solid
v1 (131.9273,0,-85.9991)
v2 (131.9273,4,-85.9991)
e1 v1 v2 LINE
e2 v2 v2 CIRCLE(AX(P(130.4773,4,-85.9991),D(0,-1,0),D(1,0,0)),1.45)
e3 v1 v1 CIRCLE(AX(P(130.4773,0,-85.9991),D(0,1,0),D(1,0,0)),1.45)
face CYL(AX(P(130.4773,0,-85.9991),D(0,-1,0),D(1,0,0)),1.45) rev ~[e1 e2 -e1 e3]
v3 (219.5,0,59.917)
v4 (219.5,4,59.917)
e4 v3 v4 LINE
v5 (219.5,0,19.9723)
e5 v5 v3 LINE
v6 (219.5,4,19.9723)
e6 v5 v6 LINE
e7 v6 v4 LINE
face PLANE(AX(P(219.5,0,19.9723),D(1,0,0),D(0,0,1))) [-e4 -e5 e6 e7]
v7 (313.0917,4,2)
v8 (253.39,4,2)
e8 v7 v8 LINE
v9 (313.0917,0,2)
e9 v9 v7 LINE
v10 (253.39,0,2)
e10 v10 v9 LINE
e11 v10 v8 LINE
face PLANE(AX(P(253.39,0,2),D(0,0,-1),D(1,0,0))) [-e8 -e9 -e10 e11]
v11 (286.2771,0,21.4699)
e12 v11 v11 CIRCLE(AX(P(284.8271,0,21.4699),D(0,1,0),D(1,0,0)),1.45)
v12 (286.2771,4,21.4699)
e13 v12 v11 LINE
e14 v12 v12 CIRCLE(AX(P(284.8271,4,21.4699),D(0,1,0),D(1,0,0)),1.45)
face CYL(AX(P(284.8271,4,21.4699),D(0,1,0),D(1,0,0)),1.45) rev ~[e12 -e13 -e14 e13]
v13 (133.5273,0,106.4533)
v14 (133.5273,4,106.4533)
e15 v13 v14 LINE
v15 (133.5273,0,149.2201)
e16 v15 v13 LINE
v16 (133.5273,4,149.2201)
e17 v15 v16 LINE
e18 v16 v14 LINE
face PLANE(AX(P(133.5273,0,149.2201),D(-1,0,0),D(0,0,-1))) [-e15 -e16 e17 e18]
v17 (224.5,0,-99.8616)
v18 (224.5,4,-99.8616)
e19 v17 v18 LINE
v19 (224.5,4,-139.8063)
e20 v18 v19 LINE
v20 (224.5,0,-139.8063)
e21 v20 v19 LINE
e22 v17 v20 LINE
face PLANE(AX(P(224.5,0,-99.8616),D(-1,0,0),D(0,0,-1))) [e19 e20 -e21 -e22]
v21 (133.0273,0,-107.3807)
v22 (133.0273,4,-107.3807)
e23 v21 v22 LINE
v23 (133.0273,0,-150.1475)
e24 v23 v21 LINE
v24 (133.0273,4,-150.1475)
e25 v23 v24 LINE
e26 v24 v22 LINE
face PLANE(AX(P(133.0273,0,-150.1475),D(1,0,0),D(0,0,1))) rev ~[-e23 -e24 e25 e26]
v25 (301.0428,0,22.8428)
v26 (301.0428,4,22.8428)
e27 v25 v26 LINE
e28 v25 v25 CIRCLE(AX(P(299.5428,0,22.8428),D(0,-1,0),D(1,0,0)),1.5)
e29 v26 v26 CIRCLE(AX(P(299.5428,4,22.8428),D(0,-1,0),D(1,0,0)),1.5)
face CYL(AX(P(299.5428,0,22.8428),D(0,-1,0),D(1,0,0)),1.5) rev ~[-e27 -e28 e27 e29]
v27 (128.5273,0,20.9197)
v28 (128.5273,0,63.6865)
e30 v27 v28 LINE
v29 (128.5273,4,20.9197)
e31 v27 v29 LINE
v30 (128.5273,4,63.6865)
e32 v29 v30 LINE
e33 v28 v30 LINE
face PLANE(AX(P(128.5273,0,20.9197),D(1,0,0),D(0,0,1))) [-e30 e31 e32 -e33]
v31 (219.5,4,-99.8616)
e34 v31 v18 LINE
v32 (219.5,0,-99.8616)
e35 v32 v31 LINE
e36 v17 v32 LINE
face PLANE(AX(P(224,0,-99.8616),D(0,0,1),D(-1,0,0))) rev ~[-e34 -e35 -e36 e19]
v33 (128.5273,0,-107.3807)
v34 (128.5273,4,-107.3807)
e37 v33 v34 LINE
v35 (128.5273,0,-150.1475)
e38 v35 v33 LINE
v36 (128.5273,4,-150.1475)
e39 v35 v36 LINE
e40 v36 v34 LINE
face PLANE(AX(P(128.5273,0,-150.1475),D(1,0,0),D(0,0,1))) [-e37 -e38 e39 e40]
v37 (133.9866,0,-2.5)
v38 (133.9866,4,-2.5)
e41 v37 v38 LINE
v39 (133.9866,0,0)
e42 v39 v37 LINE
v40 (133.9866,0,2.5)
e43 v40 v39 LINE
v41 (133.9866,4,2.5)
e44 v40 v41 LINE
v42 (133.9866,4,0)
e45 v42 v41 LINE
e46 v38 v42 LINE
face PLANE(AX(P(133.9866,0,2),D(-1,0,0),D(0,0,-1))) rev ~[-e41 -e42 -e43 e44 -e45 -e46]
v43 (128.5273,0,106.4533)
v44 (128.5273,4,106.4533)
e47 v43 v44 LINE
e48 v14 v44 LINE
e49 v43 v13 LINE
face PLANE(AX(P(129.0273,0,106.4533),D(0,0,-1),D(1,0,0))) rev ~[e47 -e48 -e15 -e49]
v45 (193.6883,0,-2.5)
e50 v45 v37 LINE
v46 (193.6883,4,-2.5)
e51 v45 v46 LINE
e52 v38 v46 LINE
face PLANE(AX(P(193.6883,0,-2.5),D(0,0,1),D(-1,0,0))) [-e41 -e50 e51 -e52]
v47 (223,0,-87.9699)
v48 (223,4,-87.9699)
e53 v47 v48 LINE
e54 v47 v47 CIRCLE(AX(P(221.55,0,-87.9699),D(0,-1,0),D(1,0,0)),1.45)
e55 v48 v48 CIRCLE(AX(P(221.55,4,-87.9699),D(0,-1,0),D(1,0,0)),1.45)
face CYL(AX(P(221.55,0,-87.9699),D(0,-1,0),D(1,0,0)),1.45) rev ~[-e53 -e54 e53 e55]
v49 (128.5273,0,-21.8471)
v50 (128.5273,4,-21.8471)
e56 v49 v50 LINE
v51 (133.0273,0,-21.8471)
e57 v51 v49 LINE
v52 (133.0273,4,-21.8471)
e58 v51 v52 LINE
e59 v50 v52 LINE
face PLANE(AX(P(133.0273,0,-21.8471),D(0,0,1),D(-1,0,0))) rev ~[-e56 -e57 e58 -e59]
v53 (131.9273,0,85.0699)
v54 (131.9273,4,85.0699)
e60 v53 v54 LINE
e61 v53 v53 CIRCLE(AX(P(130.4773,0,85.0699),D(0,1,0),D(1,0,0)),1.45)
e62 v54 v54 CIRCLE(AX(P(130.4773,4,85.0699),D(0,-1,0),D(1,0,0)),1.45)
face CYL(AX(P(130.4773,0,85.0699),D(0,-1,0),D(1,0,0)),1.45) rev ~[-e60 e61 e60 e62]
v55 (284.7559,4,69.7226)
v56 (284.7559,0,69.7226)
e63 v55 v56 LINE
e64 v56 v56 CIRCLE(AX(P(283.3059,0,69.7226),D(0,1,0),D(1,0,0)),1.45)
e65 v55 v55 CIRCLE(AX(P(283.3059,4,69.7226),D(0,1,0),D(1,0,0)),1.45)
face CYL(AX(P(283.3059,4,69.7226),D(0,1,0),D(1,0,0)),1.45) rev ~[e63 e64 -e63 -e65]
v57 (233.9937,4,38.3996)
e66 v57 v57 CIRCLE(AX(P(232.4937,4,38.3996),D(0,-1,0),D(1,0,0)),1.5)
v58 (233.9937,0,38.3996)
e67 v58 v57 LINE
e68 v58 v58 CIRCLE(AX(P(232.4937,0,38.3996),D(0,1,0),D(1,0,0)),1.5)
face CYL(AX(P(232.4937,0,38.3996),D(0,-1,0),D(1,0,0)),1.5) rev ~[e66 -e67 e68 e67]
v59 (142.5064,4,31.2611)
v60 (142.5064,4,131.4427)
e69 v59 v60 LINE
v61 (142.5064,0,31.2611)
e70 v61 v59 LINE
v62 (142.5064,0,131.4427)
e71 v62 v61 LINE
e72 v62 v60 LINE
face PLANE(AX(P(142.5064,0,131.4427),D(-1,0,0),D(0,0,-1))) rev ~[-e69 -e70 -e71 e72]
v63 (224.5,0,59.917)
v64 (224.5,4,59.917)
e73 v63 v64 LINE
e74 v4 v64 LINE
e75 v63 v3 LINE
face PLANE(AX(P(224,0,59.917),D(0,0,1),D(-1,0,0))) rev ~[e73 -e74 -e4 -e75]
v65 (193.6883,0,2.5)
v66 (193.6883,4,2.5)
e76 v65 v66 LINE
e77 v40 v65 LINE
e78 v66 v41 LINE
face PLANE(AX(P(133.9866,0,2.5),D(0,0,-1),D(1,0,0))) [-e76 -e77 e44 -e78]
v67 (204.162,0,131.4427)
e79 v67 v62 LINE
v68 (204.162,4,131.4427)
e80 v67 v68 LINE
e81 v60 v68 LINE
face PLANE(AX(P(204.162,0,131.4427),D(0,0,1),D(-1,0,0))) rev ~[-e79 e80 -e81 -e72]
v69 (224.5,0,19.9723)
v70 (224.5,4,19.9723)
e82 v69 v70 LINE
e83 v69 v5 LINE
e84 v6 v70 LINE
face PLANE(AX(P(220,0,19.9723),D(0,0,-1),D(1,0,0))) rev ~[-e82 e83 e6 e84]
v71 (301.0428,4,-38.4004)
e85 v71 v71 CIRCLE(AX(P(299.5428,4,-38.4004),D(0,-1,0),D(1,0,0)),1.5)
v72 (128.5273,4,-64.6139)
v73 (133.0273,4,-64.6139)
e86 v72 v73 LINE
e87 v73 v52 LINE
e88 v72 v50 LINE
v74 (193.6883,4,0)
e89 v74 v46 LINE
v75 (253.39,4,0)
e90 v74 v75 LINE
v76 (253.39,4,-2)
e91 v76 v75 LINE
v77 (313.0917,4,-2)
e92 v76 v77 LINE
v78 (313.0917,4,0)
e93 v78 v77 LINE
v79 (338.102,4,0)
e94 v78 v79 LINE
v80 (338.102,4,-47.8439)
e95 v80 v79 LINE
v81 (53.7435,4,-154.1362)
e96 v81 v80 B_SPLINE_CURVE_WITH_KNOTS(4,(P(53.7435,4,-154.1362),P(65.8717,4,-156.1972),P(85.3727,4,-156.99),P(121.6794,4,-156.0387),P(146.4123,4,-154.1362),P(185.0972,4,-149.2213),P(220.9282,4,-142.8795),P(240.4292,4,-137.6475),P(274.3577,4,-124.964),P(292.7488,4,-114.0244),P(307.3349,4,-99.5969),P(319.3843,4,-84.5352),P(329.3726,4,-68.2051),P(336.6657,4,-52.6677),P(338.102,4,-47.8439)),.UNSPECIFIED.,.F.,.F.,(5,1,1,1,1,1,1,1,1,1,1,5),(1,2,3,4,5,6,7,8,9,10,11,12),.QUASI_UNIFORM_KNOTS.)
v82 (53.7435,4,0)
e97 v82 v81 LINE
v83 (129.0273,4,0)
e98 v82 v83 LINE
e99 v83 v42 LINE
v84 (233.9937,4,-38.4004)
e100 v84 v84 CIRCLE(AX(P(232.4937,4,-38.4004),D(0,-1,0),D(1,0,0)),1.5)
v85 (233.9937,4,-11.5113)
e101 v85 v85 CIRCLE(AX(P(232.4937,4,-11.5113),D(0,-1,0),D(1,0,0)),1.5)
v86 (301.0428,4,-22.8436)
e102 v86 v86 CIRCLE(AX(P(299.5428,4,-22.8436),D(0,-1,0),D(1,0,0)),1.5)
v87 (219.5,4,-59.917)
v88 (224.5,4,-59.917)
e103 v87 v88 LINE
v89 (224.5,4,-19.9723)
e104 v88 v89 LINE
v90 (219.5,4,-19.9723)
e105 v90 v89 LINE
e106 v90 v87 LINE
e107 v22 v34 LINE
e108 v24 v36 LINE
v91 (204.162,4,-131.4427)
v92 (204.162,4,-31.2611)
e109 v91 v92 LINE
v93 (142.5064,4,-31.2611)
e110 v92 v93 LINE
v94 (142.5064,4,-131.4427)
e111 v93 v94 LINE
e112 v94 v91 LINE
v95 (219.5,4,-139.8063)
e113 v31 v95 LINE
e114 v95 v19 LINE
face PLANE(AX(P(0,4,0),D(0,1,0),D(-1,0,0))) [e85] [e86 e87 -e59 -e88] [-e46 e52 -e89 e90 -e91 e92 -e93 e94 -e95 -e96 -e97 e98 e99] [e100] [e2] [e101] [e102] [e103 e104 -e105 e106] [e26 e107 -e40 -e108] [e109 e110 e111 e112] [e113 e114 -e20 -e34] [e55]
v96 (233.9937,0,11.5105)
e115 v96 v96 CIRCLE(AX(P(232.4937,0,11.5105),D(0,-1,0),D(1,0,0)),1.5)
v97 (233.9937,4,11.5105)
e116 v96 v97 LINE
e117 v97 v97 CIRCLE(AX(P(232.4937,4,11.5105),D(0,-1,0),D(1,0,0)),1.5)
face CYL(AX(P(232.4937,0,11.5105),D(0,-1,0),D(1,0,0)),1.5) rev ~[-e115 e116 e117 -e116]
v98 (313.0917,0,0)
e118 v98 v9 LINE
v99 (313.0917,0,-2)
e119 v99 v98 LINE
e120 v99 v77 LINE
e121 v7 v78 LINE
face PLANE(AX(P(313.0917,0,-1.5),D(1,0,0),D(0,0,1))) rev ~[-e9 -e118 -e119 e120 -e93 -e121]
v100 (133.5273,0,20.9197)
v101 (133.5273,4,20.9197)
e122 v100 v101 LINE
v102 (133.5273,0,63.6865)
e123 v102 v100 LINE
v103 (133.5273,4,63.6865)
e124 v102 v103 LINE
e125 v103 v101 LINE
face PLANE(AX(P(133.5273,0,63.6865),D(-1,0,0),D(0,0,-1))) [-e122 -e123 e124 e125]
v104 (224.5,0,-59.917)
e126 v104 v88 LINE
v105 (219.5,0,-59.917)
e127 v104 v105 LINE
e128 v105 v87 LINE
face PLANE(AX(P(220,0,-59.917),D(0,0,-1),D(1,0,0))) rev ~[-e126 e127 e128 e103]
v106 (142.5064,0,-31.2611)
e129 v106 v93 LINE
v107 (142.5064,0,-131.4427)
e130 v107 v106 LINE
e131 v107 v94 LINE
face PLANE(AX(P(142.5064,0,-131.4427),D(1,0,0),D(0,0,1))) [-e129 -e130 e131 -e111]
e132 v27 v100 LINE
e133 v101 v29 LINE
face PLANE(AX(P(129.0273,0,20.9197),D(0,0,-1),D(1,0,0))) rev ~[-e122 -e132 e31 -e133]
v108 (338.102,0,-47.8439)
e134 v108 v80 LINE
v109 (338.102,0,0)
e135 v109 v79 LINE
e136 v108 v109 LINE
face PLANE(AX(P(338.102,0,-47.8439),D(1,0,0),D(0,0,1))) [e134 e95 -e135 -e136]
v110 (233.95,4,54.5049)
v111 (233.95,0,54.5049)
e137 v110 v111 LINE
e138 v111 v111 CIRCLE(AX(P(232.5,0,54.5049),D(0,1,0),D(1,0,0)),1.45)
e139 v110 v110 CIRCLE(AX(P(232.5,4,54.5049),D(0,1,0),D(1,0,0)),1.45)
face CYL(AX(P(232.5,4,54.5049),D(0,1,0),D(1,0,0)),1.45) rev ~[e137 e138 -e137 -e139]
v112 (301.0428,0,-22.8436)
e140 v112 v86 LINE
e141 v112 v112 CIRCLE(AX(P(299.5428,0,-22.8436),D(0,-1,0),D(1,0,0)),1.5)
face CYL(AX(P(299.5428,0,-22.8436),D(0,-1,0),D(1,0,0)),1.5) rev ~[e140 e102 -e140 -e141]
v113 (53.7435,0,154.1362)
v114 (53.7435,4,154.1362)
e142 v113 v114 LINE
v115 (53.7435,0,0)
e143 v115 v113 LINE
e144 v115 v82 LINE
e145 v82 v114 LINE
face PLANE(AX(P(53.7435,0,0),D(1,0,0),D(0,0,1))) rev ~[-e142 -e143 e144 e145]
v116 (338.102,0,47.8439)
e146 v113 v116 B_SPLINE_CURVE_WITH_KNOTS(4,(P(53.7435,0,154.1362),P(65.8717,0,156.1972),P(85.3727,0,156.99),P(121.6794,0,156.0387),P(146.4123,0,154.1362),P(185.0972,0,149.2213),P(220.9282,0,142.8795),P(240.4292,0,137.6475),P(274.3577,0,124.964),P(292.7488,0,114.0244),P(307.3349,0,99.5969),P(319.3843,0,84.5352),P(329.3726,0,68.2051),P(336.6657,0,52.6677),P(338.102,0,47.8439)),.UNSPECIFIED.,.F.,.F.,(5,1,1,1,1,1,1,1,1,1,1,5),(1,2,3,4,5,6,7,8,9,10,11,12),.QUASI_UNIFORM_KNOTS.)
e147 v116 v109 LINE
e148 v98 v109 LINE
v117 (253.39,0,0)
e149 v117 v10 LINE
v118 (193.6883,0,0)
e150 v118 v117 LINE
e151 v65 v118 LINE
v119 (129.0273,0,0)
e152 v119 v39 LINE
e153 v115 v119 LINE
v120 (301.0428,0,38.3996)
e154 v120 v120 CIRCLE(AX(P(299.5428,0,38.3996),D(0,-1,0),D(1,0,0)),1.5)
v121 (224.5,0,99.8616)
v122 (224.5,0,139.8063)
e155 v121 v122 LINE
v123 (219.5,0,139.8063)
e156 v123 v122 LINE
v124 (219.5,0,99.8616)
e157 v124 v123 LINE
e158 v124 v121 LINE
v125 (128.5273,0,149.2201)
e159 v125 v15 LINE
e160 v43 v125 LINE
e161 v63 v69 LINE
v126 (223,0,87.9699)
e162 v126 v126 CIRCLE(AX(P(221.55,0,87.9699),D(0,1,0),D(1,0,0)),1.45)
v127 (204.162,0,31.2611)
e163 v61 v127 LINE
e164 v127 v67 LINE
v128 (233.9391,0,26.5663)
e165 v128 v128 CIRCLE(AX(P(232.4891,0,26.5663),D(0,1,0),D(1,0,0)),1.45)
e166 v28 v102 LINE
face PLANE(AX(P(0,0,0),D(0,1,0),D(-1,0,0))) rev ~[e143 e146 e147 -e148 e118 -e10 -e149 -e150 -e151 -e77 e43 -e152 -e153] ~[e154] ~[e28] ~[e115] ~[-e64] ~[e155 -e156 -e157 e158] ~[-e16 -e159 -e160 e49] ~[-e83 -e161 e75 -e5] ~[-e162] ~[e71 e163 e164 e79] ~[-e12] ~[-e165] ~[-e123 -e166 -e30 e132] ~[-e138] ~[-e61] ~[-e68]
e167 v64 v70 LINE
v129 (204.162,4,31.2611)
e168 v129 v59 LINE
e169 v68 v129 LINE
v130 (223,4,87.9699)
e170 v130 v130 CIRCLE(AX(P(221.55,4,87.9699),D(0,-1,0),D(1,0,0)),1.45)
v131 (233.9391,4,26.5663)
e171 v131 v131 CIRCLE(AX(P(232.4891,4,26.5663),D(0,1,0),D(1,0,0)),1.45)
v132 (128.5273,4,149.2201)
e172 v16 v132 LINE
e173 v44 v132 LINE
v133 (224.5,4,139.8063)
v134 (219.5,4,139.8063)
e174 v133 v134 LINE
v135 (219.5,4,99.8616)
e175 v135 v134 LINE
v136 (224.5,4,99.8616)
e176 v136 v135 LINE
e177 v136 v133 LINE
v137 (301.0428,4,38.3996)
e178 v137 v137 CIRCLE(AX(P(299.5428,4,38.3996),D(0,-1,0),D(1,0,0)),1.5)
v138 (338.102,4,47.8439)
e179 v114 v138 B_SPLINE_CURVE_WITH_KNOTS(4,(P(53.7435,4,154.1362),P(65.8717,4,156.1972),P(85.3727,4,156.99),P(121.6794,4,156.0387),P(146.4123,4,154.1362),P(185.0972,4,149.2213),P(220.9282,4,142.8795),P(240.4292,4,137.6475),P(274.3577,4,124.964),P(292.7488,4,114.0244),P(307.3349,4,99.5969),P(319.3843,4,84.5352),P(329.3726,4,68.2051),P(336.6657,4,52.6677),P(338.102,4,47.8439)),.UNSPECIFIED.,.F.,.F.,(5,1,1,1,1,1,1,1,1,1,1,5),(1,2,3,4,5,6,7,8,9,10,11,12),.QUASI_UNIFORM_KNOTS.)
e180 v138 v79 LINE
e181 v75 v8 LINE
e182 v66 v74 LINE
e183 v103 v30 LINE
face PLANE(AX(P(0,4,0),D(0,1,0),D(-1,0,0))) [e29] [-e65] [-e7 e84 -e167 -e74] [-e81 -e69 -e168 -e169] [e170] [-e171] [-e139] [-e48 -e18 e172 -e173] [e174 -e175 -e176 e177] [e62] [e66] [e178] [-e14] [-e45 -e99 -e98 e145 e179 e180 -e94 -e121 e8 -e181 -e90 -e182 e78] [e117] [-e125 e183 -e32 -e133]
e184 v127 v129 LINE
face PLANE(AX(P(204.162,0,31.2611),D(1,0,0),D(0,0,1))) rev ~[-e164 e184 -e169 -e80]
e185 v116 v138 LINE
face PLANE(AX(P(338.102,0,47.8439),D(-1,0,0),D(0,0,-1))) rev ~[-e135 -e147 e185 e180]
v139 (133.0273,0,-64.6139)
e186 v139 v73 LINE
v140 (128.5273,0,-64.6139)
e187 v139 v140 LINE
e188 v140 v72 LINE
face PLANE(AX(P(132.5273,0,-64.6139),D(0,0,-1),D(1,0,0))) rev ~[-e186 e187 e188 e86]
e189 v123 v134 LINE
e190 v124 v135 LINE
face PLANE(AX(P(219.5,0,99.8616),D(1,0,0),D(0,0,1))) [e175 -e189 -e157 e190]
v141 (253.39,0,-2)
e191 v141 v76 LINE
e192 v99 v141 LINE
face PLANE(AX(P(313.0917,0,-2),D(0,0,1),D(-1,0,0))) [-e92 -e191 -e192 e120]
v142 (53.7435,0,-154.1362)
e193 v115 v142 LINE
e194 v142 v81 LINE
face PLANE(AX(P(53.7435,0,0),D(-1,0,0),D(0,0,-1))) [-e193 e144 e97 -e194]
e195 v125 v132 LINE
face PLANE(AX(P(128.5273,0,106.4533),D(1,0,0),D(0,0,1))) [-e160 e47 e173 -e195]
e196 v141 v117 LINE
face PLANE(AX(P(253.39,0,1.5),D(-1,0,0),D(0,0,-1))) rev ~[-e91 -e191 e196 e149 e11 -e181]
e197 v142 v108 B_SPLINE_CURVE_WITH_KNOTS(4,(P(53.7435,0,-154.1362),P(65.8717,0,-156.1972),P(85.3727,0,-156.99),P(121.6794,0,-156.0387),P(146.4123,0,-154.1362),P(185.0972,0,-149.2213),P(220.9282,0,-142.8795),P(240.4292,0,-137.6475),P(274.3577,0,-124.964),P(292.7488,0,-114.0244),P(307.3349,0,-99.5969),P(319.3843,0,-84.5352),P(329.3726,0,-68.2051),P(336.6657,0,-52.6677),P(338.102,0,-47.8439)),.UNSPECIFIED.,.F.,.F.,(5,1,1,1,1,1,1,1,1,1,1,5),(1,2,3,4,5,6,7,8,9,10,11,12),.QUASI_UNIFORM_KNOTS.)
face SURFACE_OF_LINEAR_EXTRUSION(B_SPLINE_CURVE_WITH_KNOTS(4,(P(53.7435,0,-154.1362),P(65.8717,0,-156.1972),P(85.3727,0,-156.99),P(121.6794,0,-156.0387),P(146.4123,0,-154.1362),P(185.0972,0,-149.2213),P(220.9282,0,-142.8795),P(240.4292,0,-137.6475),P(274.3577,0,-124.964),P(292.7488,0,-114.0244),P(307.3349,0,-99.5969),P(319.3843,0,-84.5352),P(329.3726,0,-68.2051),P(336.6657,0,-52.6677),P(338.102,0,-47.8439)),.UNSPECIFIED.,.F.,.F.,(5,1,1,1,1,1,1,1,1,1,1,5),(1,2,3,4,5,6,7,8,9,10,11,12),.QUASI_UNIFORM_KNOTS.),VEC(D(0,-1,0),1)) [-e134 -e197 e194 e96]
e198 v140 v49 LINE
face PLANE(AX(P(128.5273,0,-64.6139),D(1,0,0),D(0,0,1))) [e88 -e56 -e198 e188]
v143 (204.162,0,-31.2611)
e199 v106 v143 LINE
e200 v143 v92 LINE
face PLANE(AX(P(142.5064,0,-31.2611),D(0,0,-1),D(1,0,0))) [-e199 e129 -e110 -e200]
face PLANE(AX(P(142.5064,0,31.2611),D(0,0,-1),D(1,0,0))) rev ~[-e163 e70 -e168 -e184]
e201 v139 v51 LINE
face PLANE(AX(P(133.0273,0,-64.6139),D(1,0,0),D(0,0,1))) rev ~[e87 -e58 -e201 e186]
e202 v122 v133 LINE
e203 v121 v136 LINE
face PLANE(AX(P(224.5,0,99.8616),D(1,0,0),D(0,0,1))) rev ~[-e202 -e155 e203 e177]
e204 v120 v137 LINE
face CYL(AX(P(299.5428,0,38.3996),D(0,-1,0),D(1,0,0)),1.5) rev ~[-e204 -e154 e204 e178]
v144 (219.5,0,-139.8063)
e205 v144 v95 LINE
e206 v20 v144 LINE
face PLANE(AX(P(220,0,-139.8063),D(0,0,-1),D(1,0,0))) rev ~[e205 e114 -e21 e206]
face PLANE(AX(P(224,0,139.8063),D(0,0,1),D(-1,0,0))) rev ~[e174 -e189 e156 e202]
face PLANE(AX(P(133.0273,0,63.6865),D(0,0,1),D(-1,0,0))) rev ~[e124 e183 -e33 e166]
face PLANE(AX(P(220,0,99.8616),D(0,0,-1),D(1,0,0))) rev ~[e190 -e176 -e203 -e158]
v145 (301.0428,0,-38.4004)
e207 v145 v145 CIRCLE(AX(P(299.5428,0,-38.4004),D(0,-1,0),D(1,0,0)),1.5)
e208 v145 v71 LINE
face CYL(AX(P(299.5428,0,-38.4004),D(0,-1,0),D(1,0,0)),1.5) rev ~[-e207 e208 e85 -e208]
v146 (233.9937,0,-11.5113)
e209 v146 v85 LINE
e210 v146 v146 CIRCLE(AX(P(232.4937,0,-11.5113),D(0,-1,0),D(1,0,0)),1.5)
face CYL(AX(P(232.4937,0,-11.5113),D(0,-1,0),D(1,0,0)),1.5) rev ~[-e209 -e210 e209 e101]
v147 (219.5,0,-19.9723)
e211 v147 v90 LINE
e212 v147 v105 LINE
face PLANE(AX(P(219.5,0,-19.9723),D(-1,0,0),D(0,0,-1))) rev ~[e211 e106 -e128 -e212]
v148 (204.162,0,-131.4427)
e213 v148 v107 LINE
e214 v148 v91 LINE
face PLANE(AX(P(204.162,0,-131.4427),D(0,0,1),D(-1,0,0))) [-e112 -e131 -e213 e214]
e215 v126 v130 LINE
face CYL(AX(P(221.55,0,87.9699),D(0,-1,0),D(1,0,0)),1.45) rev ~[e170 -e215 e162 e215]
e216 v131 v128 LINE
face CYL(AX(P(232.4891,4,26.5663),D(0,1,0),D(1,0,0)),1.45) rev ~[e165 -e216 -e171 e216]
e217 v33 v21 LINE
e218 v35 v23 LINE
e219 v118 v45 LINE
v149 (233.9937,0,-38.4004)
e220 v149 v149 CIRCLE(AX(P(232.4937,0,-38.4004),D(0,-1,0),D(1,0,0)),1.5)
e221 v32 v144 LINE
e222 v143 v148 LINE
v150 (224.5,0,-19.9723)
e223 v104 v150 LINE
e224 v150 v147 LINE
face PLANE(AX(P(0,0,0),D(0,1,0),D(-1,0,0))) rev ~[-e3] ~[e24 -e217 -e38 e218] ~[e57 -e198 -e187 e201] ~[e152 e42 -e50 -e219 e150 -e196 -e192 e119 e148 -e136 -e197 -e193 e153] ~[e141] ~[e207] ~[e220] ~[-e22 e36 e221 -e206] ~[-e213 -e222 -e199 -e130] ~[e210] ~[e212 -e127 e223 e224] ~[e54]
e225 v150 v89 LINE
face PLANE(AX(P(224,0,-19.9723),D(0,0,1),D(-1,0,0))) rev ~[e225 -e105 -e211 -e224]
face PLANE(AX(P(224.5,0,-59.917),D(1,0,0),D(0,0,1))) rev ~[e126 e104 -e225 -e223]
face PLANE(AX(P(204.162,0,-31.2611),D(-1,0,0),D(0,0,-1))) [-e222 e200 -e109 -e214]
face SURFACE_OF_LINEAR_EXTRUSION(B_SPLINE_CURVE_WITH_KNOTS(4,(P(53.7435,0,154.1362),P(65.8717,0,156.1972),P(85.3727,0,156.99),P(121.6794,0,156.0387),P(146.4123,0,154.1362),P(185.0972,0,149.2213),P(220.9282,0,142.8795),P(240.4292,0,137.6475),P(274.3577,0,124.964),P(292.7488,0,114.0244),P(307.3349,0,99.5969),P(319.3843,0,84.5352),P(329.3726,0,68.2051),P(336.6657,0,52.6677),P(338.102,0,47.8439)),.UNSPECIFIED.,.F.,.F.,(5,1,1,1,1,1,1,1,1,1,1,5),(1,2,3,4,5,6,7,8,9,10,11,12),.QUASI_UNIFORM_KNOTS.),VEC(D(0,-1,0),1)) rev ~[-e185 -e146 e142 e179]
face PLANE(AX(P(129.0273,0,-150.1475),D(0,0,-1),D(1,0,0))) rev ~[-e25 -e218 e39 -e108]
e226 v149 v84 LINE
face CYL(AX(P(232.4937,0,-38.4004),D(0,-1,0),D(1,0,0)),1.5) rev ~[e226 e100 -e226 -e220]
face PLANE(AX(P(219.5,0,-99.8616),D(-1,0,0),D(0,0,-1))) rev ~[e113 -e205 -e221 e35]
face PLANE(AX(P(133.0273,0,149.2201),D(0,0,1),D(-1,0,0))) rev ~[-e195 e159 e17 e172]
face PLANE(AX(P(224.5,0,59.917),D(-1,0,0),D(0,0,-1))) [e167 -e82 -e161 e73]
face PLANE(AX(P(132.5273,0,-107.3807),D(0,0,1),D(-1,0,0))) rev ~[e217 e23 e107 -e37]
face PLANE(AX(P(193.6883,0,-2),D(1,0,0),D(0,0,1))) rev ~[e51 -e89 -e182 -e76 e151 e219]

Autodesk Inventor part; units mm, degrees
ref_plane "YZ Plane" through (0, 0, 0) normal (1, 0, 0) x (0, 1, 0)
ref_plane "XZ Plane" through (0, 0, 0) normal (0, 1, 0) x (-1, 0, 0)
ref_plane "XY Plane" through (0, 0, 0) normal (0, 0, 1) x (1, 0, 0)
sketch "Эскиз1" plane through (0, 0, 0) normal (0, 1, 0) x (-1, 0, 0)
  line L0 (0, 0) -> (-339.5216, 0)
  line L1 (-129.0273, 2.0017) -> (-133.0273, 2.0017) construction
  line L2 (-133.0273, 20.9197) -> (-133.0273, 2.0017) construction
  line L3 (-133.0273, 20.9197) -> (-129.0273, 20.9197) construction
  line L4 (-129.0273, 20.9197) -> (-129.0273, 2.0017) construction
  line L5 (-129.0273, 2.0017) -> (-129.0273, -5.9794)
  line L6 (-10.1099, 0) -> (-40.1099, 0)
  line L7 (-53.7435, -154.1362) -> (-65.8717, -156.1972) construction
  line L8 (-65.8717, -156.1972) -> (-85.3727, -156.99) construction
  line L9 (-85.3727, -156.99) -> (-121.6794, -156.0387) construction
  line L10 (-121.6794, -156.0387) -> (-146.4123, -154.1362) construction
  line L11 (-146.4123, -154.1362) -> (-185.0972, -149.2213) construction
  line L12 (-185.0972, -149.2213) -> (-220.9282, -142.8795) construction
  line L13 (-220.9282, -142.8795) -> (-240.4292, -137.6475) construction
  line L14 (-240.4292, -137.6475) -> (-274.3577, -124.964) construction
  line L15 (-274.3577, -124.964) -> (-292.7488, -114.0244) construction
  line L16 (-292.7488, -114.0244) -> (-307.3349, -99.5969) construction
  line L17 (-307.3349, -99.5969) -> (-319.3843, -84.5352) construction
  line L18 (-319.3843, -84.5352) -> (-329.3726, -68.2051) construction
  line L19 (-329.3726, -68.2051) -> (-336.6657, -52.6677) construction
  line L20 (-336.6657, -52.6677) -> (-338.102, -47.8439) construction
  spline S0 degree 4 poles (-53.7435, -154.1362) (-65.8717, -156.1972) (-85.3727, -156.99) (-121.6794, -156.0387) (-146.4123, -154.1362) (-185.0972, -149.2213) (-220.9282, -142.8795) (-240.4292, -137.6475) (-274.3577, -124.964) (-292.7488, -114.0244) (-307.3349, -99.5969) (-319.3843, -84.5352) (-329.3726, -68.2051) (-336.6657, -52.6677) (-338.102, -47.8439) knots 1 1 1 1 1 2 3 4 5 6 7 8 9 10 11 12 12 12 12 12
  line L21 (-338.102, -47.8439) -> (-338.102, 0)
  line L22 (-53.7435, 154.1362) -> (-65.8717, 156.1972) construction
  line L23 (-65.8717, 156.1972) -> (-85.3727, 156.99) construction
  line L24 (-85.3727, 156.99) -> (-121.6794, 156.0387) construction
  line L25 (-121.6794, 156.0387) -> (-146.4123, 154.1362) construction
  line L26 (-146.4123, 154.1362) -> (-185.0972, 149.2213) construction
  line L27 (-185.0972, 149.2213) -> (-220.9282, 142.8795) construction
  line L28 (-220.9282, 142.8795) -> (-240.4292, 137.6475) construction
  line L29 (-240.4292, 137.6475) -> (-274.3577, 124.964) construction
  line L30 (-274.3577, 124.964) -> (-292.7488, 114.0244) construction
  line L31 (-292.7488, 114.0244) -> (-307.3349, 99.5969) construction
  line L32 (-307.3349, 99.5969) -> (-319.3843, 84.5352) construction
  line L33 (-319.3843, 84.5352) -> (-329.3726, 68.2051) construction
  line L34 (-329.3726, 68.2051) -> (-336.6657, 52.6677) construction
  line L35 (-336.6657, 52.6677) -> (-338.102, 47.8439) construction
  spline S1 degree 4 poles (-53.7435, 154.1362) (-65.8717, 156.1972) (-85.3727, 156.99) (-121.6794, 156.0387) (-146.4123, 154.1362) (-185.0972, 149.2213) (-220.9282, 142.8795) (-240.4292, 137.6475) (-274.3577, 124.964) (-292.7488, 114.0244) (-307.3349, 99.5969) (-319.3843, 84.5352) (-329.3726, 68.2051) (-336.6657, 52.6677) (-338.102, 47.8439) knots 1 1 1 1 1 2 3 4 5 6 7 8 9 10 11 12 12 12 12 12
  line L36 (-338.102, 47.8439) -> (-338.102, 0)
  line L37 (-144.7435, 0) -> (-53.7435, 0)
  line L38 (-53.7435, 0) -> (-53.7435, -154.1362)
  line L39 (-53.7435, 154.1362) -> (-65.8717, 156.1972) construction
  line L40 (-65.8717, 156.1972) -> (-85.3727, 156.99) construction
  line L41 (-85.3727, 156.99) -> (-121.6794, 156.0387) construction
  line L42 (-121.6794, 156.0387) -> (-146.4123, 154.1362) construction
  line L43 (-146.4123, 154.1362) -> (-185.0972, 149.2213) construction
  line L44 (-185.0972, 149.2213) -> (-220.9282, 142.8795) construction
  line L45 (-220.9282, 142.8795) -> (-240.4292, 137.6475) construction
  line L46 (-240.4292, 137.6475) -> (-274.3577, 124.964) construction
  line L47 (-274.3577, 124.964) -> (-292.7488, 114.0244) construction
  line L48 (-292.7488, 114.0244) -> (-307.3349, 99.5969) construction
  line L49 (-307.3349, 99.5969) -> (-319.3843, 84.5352) construction
  line L50 (-319.3843, 84.5352) -> (-329.3726, 68.2051) construction
  line L51 (-329.3726, 68.2051) -> (-336.6657, 52.6677) construction
  line L52 (-336.6657, 52.6677) -> (-338.102, 47.8439) construction
  spline S2 degree 4 poles (-53.7435, 154.1362) (-65.8717, 156.1972) (-85.3727, 156.99) (-121.6794, 156.0387) (-146.4123, 154.1362) (-185.0972, 149.2213) (-220.9282, 142.8795) (-240.4292, 137.6475) (-274.3577, 124.964) (-292.7488, 114.0244) (-307.3349, 99.5969) (-319.3843, 84.5352) (-329.3726, 68.2051) (-336.6657, 52.6677) (-338.102, 47.8439) knots 1 1 1 1 1 2 3 4 5 6 7 8 9 10 11 12 12 12 12 12
  line L53 (-338.102, 47.8439) -> (-338.102, 0)
  line L54 (-53.7435, 0) -> (-53.7435, 154.1362)
  point P0 (-144.7435, 57.7778)
  dimension "d42" = 30
extrude "Выдавливание1" add sketch "Эскиз1" along normal blind 4
sketch "Эскиз2" plane through (0, 0, 0) normal (0, -1, 0) x (1, 0, 0)
  line L0 (224, 59.917) -> (220, 59.917) projected
  line L1 (220, 59.917) -> (220, 19.9723) projected
  line L2 (220, 19.9723) -> (224, 19.9723) projected
  line L3 (224, 19.9723) -> (224, 59.917) projected
  line L4 (220, 99.8616) -> (224, 99.8616) projected
  line L5 (224, 99.8616) -> (224, 139.8063) projected
  line L6 (224, 139.8063) -> (220, 139.8063) projected
  line L7 (220, 139.8063) -> (220, 99.8616) projected
  line L8 (224, -19.9723) -> (220, -19.9723) projected
  line L9 (220, -19.9723) -> (220, -59.917) projected
  line L10 (220, -59.917) -> (224, -59.917) projected
  line L11 (224, -59.917) -> (224, -19.9723) projected
  line L12 (224, -99.8616) -> (220, -99.8616) projected
  line L13 (220, -99.8616) -> (220, -139.8063) projected
  line L14 (220, -139.8063) -> (224, -139.8063) projected
  line L15 (224, -139.8063) -> (224, -99.8616) projected
  line L16 (220, 19.9723) -> (219.5, 19.9723)
  line L17 (219.5, 19.9723) -> (219.5, 59.917)
  line L18 (219.5, 59.917) -> (220, 59.917)
  line L19 (224, 59.917) -> (224.5, 59.917)
  line L20 (224.5, 59.917) -> (224.5, 19.9723)
  line L21 (224.5, 19.9723) -> (224, 19.9723)
  line L22 (220, 99.8616) -> (219.5, 99.8616)
  line L23 (219.5, 99.8616) -> (219.5, 139.8063)
  line L24 (219.5, 139.8063) -> (220, 139.8063)
  line L25 (224, 99.8616) -> (224.5, 99.8616)
  line L26 (224.5, 99.8616) -> (224.5, 139.8063)
  line L27 (224.5, 139.8063) -> (224, 139.8063)
  line L28 (197.5179, 0) -> (240.56, 0)
  line L29 (224, -59.917) -> (220, -59.917)
  line L30 (220, -59.917) -> (220, -19.9723)
  line L31 (220, -19.9723) -> (224, -19.9723)
  line L32 (224, -19.9723) -> (224, -59.917)
  line L33 (220, -99.8616) -> (224, -99.8616)
  line L34 (224, -99.8616) -> (224, -139.8063)
  line L35 (224, -139.8063) -> (220, -139.8063)
  line L36 (220, -139.8063) -> (220, -99.8616)
  line L37 (220, -19.9723) -> (219.5, -19.9723)
  line L38 (219.5, -19.9723) -> (219.5, -59.917)
  line L39 (219.5, -59.917) -> (220, -59.917)
  line L40 (224, -59.917) -> (224.5, -59.917)
  line L41 (224.5, -59.917) -> (224.5, -19.9723)
  line L42 (224.5, -19.9723) -> (224, -19.9723)
  line L43 (220, -99.8616) -> (219.5, -99.8616)
  line L44 (219.5, -99.8616) -> (219.5, -139.8063)
  line L45 (219.5, -139.8063) -> (220, -139.8063)
  line L46 (224, -99.8616) -> (224.5, -99.8616)
  line L47 (224.5, -99.8616) -> (224.5, -139.8063)
  line L48 (224.5, -139.8063) -> (224, -139.8063)
  point P0 (0, 0)
  dimension "d67" = 4
  dimension "d68" = 0.5
  dimension "d69" = 0.5
  dimension "d70" = 0.5
  dimension "d71" = 0.5
extrude "Выдавливание2" cut sketch "Эскиз2" against normal blind 4
sketch "Эскиз3" plane through (0, 0, 0) normal (0, -1, 0) x (1, 0, 0)
  line L0 (129.0273, -150.1475) -> (133.0273, -150.1475) projected
  line L1 (133.0273, -150.1475) -> (133.0273, -107.3807) projected
  line L2 (133.0273, -107.3807) -> (129.0273, -107.3807) projected
  line L3 (129.0273, -107.3807) -> (129.0273, -150.1475) projected
  line L4 (133.0273, -64.6139) -> (133.0273, -21.8471) projected
  line L5 (133.0273, -21.8471) -> (129.0273, -21.8471) projected
  line L6 (129.0273, -21.8471) -> (129.0273, -64.6139) projected
  line L7 (129.0273, -64.6139) -> (133.0273, -64.6139) projected
  line L8 (129.0273, 63.6865) -> (129.0273, 20.9197) projected
  line L9 (133.0273, 20.9197) -> (133.0273, 63.6865) projected
  line L10 (133.0273, 63.6865) -> (129.0273, 63.6865) projected
  line L11 (129.0273, 63.6865) -> (129.0273, 20.9197) projected
  line L12 (129.0273, 20.9197) -> (133.0273, 20.9197) projected
  line L13 (129.0273, 149.2201) -> (129.0273, 106.4533) projected
  line L14 (129.0273, 106.4533) -> (133.0273, 106.4533) projected
  line L15 (133.0273, 106.4533) -> (133.0273, 149.2201) projected
  line L16 (133.0273, 149.2201) -> (129.0273, 149.2201) projected
  line L17 (129.0273, 149.2201) -> (129.0273, 106.4533) projected
  line L18 (129.0273, 20.9197) -> (128.5273, 20.9197)
  line L19 (128.5273, 20.9197) -> (128.5273, 63.6865)
  line L20 (128.5273, 63.6865) -> (129.0273, 63.6865)
  line L21 (133.0273, 63.6865) -> (133.5273, 63.6865)
  line L22 (133.5273, 63.6865) -> (133.5273, 20.9197)
  line L23 (133.5273, 20.9197) -> (133.0273, 20.9197)
  line L24 (129.0273, 106.4533) -> (128.5273, 106.4533)
  line L25 (128.5273, 106.4533) -> (128.5273, 149.2201)
  line L26 (128.5273, 149.2201) -> (129.0273, 149.2201)
  line L27 (133.0273, 149.2201) -> (133.5273, 149.2201)
  line L28 (133.5273, 149.2201) -> (133.5273, 106.4533)
  line L29 (133.0273, 106.4533) -> (133.5273, 106.4533)
  line L30 (121.8366, 0) -> (139.2752, 0)
  line L31 (129.0273, -150.1475) -> (128.5273, -150.1475)
  line L32 (128.5273, -150.1475) -> (128.5273, -107.3807)
  line L33 (128.5273, -107.3807) -> (129.0273, -107.3807)
  line L34 (133.0273, -107.3807) -> (132.5273, -107.3807)
  line L35 (132.5273, -107.3807) -> (132.5273, -150.1475)
  line L36 (132.5273, -150.1475) -> (133.0273, -150.1475)
  line L37 (129.0273, -64.6139) -> (128.5273, -64.6139)
  line L38 (128.5273, -64.6139) -> (128.5273, -21.8471)
  line L39 (128.5273, -21.8471) -> (129.0273, -21.8471)
  line L40 (133.0273, -21.8471) -> (132.5273, -21.8471)
  line L41 (132.5273, -21.8471) -> (132.5273, -64.6139)
  line L42 (133.0273, -64.6139) -> (132.5273, -64.6139)
  point P0 (0, 0)
  dimension "d72" = 0.5
  dimension "d73" = 0.5
  dimension "d74" = 0.5
extrude "Выдавливание3" cut sketch "Эскиз3" against normal blind 4
sketch "Эскиз6" plane through (0, 0, 0) normal (0, -1, 0) x (1, 0, 0)
  line L0 (74.396, 0) -> (255.7791, 0)
  line L1 (174.802, 33.2852) -> (169.6077, 33.2852) projected
  line L2 (180.6651, 129.1508) -> (169.6077, 129.1508) projected
  line L3 (145.3577, 104.101) -> (145.3577, 81.101) projected
  line L4 (142.5064, 31.2611) -> (204.162, 31.2611)
  line L5 (204.162, 31.2611) -> (204.162, 131.4427)
  line L6 (204.162, 131.4427) -> (142.5064, 131.4427)
  line L7 (142.5064, 131.4427) -> (142.5064, 31.2611)
  line L8 (174.802, -33.2852) -> (169.6077, -33.2852)
  line L9 (180.6651, -129.1508) -> (169.6077, -129.1508)
  line L10 (145.3577, -104.101) -> (145.3577, -81.101)
  line L11 (142.5064, -31.2611) -> (204.162, -31.2611)
  line L12 (204.162, -31.2611) -> (204.162, -131.4427)
  line L13 (204.162, -131.4427) -> (142.5064, -131.4427)
  line L14 (142.5064, -131.4427) -> (142.5064, -31.2611)
  point P0 (0, 0)
sketch "Эскиз7" plane through (0, 0, 0) normal (0, -1, 0) x (1, 0, 0)
  line L0 (193.6883, 2) -> (133.9866, 2) projected
  line L1 (133.9866, -2) -> (193.6883, -2) projected
  line L2 (193.6883, -2) -> (193.6883, 2) projected
  line L3 (193.6883, 2) -> (133.9866, 2) projected
  line L4 (133.9866, 2) -> (133.9866, -2) projected
  line L5 (313.0917, 2) -> (253.39, 2) projected
  line L6 (253.39, -2) -> (313.0917, -2) projected
  line L7 (133.9866, 2) -> (133.9866, -2) projected
  line L8 (133.9866, -2) -> (193.6883, -2) projected
  line L9 (193.6883, -2) -> (193.6883, 2) projected
  line L10 (133.9866, 2) -> (133.9866, 2.5)
  line L11 (133.9866, 2.5) -> (193.6883, 2.5)
  line L12 (193.6883, 2.5) -> (193.6883, 2)
  line L13 (193.6883, -2) -> (193.6883, -2.5)
  line L14 (193.6883, -2.5) -> (133.9866, -2.5)
  line L15 (133.9866, -2.5) -> (133.9866, -2)
  line L16 (253.39, 2) -> (253.39, -2) projected
  line L17 (313.0917, -2) -> (313.0917, 2) projected
  point P0 (0, 0)
  point P1 (193.6883, -1.5)
  dimension "d75" = 0.5
  dimension "d76" = 0.5
extrude "Выдавливание7" cut sketch "Эскиз7" against normal through all contours L2 L1 L4 L0 | L0 L10 L11 L12 | L13 L14 L15 L1
sketch "Эскиз8" plane through (0, 0, 0) normal (0, -1, 0) x (1, 0, 0)
  line L0 (133.0273, 82.3199) -> (133.0273, 83.6199) projected
  line L1 (129.0273, 82.3199) -> (133.0273, 82.3199) projected
  line L2 (129.0273, 83.6199) -> (129.0273, 82.3199) projected
  line L3 (129.0273, 83.6199) -> (133.0273, 83.6199) projected
  line L4 (133.0273, 86.5199) -> (133.0273, 87.8199) projected
  line L5 (129.0273, 86.5199) -> (133.0273, 86.5199) projected
  line L6 (129.0273, 87.8199) -> (129.0273, 86.5199) projected
  line L7 (129.0273, 87.8199) -> (133.0273, 87.8199) projected
  line L8 (129.0273, 83.6199) -> (133.0273, 83.6199)
  line L9 (133.0273, 83.6199) -> (133.0273, 86.5199)
  line L10 (133.0273, 86.5199) -> (129.0273, 86.5199)
  line L11 (129.0273, 86.5199) -> (129.0273, 83.6199)
  circle A0 centre (130.4773, 85.0699) radius 1.45
  line L12 (129.0273, 0) -> (153.0576, 0)
  line L13 (129.0273, -87.4491) -> (132.0273, -87.4491)
  line L14 (132.0273, -87.4491) -> (132.0273, -84.5491)
  line L15 (132.0273, -84.5491) -> (129.0273, -84.5491)
  line L16 (129.0273, -84.5491) -> (129.0273, -87.4491)
  circle A1 centre (130.4773, -85.9991) radius 1.45
  point P0 (0, 0)
  dimension "d44" = 3
  dimension "d45" = 2.9
extrude "Выдавливание8" cut sketch "Эскиз8" against normal through all contours A0 | A1
sketch "Эскиз9" plane through (0, 0, 0) normal (0, -1, 0) x (1, 0, 0)
  line L0 (253.39, -1.5) -> (313.0917, -1.5) projected
  line L1 (313.0917, 1.5) -> (253.39, 1.5) projected
  line L2 (313.0917, -1.5) -> (313.0917, 1.5) projected
  line L3 (253.39, 1.5) -> (253.39, -1.5) projected
  line L4 (253.39, 1.5) -> (253.39, 2)
  line L5 (253.39, 2) -> (313.0917, 2)
  line L6 (313.0917, 2) -> (313.0917, 1.5)
  line L7 (313.0917, -1.5) -> (313.0917, -2)
  line L8 (313.0917, -2) -> (253.39, -2)
  line L9 (253.39, -2) -> (253.39, -1.5)
  point P0 (0, 0)
  dimension "d77" = 0.5
  dimension "d78" = 0.5
extrude "Выдавливание9" cut sketch "Эскиз9" against normal through all
extrude "Выдавливание10" cut sketch "Эскиз6" against normal through all
sketch "Эскиз10" plane through (0, 0, 0) normal (0, -1, 0) x (1, 0, 0)
  line L0 (220, 89.4199) -> (223, 89.4199) projected
  line L1 (223, 86.5199) -> (220, 86.5199) projected
  line L2 (223, 86.5199) -> (223, 89.4199)
  circle A0 centre (221.55, 87.9699) radius 1.45
  line L3 (223, 0) -> (202.3456, 0)
  circle A1 centre (221.55, -87.9699) radius 1.45
  point P0 (0, 0)
  dimension "d52" = 2.9
extrude "Выдавливание11" cut sketch "Эскиз10" against normal through all contours A0 | A1
sketch "Эскиз11" plane through (0, 4, 0) normal (0, 1, 0) x (1, 0, 0)
  point P0 (0, 0)
sketch "Эскиз12" plane through (0, 0, 0) normal (0, -1, 0) x (1, 0, 0)
  line L0 (223, 19.9723) -> (223, 59.917) projected
  line L1 (223, 19.9723) -> (232.5, 19.9723)
  line L2 (223, 59.917) -> (223, 19.9723) projected
  line L3 (232.5, 139.4752) -> (232.5, 54.4752)
  circle A0 centre (232.5, 54.4752) radius 0.05
  point P0 (0, 0)
  point P1 (53.7435, 154.1362)
  point P2 (338.102, 47.8439)
  dimension "d55" = 9.5
  dimension "d56" = 85
  dimension "d60" = 0.1
extrude "Выдавливание12" cut sketch "Эскиз12" against normal blind 0.1
sketch "Эскиз13" plane through (0, 4, 0) normal (0, 1, 0) x (1, 0, 0)
  ellipse E0 centre (232.5, -54.5049) end of major axis (231.7, -54.5039) minor radius 0.7999
  line L0 (232.4894, -27.3693) -> (232.4888, -25.7695)
  line L1 (233.2891, -26.566) -> (231.6891, -26.5666)
  line L2 (284.8274, -22.2697) -> (284.8268, -20.67)
  line L3 (282.5059, -69.7229) -> (284.1059, -69.7223)
  line L4 (283.3059, -69.7226) -> (283.3056, -68.9228)
  line L5 (283.3059, -69.7226) -> (283.3062, -70.5225)
  circle A0 centre (283.3059, -69.7226) radius 1.45
  circle A1 centre (284.8271, -21.4699) radius 1.45
  circle A2 centre (232.4891, -26.5663) radius 1.45
  circle A3 centre (232.5, -54.5049) radius 1.45
  point P0 (0, 0)
extrude "Выдавливание13" cut sketch "Эскиз13" against normal through all contours E0 | A0 | A1 | A2 | A3
sketch "Эскиз14" plane through (0, 0, 0) normal (0, -1, 0) x (1, 0, 0)
  circle A0 centre (232.4891, 26.5663) radius 1.45 projected
  circle A1 centre (232.5, 54.5049) radius 1.45 projected
  line L0 (232.4891, 26.5663) -> (232.5, 54.5049)
  line L1 (232.4945, 40.5356) -> (232.4937, 38.3996)
  circle A2 centre (232.4937, 38.3996) radius 1.5
  point P0 (0, 0)
  dimension "d82" = 2.136
  dimension "d83" = 3
extrude "Выдавливание14" cut sketch "Эскиз14" against normal through all contours A2 L0 | L0 A2
sketch "Эскиз15" plane through (0, 0, 0) normal (0, -1, 0) x (1, 0, 0)
  circle A0 centre (232.4937, 38.3996) radius 1.5 projected
  circle A1 centre (232.4937, 11.5105) radius 1.5 projected
  circle A2 centre (232.4937, -11.5113) radius 1.5 projected
  circle A3 centre (232.4937, -38.4004) radius 1.5 projected
  circle A4 centre (299.5428, 38.3996) radius 1.5 projected
  circle A5 centre (299.5428, 22.8428) radius 1.5 projected
  circle A6 centre (299.5428, -22.8436) radius 1.5 projected
  circle A7 centre (299.5428, -38.4004) radius 1.5 projected
  point P0 (0, 0)
extrude "Выдавливание15" cut sketch "Эскиз15" against normal through all
properties part number "head_1"
